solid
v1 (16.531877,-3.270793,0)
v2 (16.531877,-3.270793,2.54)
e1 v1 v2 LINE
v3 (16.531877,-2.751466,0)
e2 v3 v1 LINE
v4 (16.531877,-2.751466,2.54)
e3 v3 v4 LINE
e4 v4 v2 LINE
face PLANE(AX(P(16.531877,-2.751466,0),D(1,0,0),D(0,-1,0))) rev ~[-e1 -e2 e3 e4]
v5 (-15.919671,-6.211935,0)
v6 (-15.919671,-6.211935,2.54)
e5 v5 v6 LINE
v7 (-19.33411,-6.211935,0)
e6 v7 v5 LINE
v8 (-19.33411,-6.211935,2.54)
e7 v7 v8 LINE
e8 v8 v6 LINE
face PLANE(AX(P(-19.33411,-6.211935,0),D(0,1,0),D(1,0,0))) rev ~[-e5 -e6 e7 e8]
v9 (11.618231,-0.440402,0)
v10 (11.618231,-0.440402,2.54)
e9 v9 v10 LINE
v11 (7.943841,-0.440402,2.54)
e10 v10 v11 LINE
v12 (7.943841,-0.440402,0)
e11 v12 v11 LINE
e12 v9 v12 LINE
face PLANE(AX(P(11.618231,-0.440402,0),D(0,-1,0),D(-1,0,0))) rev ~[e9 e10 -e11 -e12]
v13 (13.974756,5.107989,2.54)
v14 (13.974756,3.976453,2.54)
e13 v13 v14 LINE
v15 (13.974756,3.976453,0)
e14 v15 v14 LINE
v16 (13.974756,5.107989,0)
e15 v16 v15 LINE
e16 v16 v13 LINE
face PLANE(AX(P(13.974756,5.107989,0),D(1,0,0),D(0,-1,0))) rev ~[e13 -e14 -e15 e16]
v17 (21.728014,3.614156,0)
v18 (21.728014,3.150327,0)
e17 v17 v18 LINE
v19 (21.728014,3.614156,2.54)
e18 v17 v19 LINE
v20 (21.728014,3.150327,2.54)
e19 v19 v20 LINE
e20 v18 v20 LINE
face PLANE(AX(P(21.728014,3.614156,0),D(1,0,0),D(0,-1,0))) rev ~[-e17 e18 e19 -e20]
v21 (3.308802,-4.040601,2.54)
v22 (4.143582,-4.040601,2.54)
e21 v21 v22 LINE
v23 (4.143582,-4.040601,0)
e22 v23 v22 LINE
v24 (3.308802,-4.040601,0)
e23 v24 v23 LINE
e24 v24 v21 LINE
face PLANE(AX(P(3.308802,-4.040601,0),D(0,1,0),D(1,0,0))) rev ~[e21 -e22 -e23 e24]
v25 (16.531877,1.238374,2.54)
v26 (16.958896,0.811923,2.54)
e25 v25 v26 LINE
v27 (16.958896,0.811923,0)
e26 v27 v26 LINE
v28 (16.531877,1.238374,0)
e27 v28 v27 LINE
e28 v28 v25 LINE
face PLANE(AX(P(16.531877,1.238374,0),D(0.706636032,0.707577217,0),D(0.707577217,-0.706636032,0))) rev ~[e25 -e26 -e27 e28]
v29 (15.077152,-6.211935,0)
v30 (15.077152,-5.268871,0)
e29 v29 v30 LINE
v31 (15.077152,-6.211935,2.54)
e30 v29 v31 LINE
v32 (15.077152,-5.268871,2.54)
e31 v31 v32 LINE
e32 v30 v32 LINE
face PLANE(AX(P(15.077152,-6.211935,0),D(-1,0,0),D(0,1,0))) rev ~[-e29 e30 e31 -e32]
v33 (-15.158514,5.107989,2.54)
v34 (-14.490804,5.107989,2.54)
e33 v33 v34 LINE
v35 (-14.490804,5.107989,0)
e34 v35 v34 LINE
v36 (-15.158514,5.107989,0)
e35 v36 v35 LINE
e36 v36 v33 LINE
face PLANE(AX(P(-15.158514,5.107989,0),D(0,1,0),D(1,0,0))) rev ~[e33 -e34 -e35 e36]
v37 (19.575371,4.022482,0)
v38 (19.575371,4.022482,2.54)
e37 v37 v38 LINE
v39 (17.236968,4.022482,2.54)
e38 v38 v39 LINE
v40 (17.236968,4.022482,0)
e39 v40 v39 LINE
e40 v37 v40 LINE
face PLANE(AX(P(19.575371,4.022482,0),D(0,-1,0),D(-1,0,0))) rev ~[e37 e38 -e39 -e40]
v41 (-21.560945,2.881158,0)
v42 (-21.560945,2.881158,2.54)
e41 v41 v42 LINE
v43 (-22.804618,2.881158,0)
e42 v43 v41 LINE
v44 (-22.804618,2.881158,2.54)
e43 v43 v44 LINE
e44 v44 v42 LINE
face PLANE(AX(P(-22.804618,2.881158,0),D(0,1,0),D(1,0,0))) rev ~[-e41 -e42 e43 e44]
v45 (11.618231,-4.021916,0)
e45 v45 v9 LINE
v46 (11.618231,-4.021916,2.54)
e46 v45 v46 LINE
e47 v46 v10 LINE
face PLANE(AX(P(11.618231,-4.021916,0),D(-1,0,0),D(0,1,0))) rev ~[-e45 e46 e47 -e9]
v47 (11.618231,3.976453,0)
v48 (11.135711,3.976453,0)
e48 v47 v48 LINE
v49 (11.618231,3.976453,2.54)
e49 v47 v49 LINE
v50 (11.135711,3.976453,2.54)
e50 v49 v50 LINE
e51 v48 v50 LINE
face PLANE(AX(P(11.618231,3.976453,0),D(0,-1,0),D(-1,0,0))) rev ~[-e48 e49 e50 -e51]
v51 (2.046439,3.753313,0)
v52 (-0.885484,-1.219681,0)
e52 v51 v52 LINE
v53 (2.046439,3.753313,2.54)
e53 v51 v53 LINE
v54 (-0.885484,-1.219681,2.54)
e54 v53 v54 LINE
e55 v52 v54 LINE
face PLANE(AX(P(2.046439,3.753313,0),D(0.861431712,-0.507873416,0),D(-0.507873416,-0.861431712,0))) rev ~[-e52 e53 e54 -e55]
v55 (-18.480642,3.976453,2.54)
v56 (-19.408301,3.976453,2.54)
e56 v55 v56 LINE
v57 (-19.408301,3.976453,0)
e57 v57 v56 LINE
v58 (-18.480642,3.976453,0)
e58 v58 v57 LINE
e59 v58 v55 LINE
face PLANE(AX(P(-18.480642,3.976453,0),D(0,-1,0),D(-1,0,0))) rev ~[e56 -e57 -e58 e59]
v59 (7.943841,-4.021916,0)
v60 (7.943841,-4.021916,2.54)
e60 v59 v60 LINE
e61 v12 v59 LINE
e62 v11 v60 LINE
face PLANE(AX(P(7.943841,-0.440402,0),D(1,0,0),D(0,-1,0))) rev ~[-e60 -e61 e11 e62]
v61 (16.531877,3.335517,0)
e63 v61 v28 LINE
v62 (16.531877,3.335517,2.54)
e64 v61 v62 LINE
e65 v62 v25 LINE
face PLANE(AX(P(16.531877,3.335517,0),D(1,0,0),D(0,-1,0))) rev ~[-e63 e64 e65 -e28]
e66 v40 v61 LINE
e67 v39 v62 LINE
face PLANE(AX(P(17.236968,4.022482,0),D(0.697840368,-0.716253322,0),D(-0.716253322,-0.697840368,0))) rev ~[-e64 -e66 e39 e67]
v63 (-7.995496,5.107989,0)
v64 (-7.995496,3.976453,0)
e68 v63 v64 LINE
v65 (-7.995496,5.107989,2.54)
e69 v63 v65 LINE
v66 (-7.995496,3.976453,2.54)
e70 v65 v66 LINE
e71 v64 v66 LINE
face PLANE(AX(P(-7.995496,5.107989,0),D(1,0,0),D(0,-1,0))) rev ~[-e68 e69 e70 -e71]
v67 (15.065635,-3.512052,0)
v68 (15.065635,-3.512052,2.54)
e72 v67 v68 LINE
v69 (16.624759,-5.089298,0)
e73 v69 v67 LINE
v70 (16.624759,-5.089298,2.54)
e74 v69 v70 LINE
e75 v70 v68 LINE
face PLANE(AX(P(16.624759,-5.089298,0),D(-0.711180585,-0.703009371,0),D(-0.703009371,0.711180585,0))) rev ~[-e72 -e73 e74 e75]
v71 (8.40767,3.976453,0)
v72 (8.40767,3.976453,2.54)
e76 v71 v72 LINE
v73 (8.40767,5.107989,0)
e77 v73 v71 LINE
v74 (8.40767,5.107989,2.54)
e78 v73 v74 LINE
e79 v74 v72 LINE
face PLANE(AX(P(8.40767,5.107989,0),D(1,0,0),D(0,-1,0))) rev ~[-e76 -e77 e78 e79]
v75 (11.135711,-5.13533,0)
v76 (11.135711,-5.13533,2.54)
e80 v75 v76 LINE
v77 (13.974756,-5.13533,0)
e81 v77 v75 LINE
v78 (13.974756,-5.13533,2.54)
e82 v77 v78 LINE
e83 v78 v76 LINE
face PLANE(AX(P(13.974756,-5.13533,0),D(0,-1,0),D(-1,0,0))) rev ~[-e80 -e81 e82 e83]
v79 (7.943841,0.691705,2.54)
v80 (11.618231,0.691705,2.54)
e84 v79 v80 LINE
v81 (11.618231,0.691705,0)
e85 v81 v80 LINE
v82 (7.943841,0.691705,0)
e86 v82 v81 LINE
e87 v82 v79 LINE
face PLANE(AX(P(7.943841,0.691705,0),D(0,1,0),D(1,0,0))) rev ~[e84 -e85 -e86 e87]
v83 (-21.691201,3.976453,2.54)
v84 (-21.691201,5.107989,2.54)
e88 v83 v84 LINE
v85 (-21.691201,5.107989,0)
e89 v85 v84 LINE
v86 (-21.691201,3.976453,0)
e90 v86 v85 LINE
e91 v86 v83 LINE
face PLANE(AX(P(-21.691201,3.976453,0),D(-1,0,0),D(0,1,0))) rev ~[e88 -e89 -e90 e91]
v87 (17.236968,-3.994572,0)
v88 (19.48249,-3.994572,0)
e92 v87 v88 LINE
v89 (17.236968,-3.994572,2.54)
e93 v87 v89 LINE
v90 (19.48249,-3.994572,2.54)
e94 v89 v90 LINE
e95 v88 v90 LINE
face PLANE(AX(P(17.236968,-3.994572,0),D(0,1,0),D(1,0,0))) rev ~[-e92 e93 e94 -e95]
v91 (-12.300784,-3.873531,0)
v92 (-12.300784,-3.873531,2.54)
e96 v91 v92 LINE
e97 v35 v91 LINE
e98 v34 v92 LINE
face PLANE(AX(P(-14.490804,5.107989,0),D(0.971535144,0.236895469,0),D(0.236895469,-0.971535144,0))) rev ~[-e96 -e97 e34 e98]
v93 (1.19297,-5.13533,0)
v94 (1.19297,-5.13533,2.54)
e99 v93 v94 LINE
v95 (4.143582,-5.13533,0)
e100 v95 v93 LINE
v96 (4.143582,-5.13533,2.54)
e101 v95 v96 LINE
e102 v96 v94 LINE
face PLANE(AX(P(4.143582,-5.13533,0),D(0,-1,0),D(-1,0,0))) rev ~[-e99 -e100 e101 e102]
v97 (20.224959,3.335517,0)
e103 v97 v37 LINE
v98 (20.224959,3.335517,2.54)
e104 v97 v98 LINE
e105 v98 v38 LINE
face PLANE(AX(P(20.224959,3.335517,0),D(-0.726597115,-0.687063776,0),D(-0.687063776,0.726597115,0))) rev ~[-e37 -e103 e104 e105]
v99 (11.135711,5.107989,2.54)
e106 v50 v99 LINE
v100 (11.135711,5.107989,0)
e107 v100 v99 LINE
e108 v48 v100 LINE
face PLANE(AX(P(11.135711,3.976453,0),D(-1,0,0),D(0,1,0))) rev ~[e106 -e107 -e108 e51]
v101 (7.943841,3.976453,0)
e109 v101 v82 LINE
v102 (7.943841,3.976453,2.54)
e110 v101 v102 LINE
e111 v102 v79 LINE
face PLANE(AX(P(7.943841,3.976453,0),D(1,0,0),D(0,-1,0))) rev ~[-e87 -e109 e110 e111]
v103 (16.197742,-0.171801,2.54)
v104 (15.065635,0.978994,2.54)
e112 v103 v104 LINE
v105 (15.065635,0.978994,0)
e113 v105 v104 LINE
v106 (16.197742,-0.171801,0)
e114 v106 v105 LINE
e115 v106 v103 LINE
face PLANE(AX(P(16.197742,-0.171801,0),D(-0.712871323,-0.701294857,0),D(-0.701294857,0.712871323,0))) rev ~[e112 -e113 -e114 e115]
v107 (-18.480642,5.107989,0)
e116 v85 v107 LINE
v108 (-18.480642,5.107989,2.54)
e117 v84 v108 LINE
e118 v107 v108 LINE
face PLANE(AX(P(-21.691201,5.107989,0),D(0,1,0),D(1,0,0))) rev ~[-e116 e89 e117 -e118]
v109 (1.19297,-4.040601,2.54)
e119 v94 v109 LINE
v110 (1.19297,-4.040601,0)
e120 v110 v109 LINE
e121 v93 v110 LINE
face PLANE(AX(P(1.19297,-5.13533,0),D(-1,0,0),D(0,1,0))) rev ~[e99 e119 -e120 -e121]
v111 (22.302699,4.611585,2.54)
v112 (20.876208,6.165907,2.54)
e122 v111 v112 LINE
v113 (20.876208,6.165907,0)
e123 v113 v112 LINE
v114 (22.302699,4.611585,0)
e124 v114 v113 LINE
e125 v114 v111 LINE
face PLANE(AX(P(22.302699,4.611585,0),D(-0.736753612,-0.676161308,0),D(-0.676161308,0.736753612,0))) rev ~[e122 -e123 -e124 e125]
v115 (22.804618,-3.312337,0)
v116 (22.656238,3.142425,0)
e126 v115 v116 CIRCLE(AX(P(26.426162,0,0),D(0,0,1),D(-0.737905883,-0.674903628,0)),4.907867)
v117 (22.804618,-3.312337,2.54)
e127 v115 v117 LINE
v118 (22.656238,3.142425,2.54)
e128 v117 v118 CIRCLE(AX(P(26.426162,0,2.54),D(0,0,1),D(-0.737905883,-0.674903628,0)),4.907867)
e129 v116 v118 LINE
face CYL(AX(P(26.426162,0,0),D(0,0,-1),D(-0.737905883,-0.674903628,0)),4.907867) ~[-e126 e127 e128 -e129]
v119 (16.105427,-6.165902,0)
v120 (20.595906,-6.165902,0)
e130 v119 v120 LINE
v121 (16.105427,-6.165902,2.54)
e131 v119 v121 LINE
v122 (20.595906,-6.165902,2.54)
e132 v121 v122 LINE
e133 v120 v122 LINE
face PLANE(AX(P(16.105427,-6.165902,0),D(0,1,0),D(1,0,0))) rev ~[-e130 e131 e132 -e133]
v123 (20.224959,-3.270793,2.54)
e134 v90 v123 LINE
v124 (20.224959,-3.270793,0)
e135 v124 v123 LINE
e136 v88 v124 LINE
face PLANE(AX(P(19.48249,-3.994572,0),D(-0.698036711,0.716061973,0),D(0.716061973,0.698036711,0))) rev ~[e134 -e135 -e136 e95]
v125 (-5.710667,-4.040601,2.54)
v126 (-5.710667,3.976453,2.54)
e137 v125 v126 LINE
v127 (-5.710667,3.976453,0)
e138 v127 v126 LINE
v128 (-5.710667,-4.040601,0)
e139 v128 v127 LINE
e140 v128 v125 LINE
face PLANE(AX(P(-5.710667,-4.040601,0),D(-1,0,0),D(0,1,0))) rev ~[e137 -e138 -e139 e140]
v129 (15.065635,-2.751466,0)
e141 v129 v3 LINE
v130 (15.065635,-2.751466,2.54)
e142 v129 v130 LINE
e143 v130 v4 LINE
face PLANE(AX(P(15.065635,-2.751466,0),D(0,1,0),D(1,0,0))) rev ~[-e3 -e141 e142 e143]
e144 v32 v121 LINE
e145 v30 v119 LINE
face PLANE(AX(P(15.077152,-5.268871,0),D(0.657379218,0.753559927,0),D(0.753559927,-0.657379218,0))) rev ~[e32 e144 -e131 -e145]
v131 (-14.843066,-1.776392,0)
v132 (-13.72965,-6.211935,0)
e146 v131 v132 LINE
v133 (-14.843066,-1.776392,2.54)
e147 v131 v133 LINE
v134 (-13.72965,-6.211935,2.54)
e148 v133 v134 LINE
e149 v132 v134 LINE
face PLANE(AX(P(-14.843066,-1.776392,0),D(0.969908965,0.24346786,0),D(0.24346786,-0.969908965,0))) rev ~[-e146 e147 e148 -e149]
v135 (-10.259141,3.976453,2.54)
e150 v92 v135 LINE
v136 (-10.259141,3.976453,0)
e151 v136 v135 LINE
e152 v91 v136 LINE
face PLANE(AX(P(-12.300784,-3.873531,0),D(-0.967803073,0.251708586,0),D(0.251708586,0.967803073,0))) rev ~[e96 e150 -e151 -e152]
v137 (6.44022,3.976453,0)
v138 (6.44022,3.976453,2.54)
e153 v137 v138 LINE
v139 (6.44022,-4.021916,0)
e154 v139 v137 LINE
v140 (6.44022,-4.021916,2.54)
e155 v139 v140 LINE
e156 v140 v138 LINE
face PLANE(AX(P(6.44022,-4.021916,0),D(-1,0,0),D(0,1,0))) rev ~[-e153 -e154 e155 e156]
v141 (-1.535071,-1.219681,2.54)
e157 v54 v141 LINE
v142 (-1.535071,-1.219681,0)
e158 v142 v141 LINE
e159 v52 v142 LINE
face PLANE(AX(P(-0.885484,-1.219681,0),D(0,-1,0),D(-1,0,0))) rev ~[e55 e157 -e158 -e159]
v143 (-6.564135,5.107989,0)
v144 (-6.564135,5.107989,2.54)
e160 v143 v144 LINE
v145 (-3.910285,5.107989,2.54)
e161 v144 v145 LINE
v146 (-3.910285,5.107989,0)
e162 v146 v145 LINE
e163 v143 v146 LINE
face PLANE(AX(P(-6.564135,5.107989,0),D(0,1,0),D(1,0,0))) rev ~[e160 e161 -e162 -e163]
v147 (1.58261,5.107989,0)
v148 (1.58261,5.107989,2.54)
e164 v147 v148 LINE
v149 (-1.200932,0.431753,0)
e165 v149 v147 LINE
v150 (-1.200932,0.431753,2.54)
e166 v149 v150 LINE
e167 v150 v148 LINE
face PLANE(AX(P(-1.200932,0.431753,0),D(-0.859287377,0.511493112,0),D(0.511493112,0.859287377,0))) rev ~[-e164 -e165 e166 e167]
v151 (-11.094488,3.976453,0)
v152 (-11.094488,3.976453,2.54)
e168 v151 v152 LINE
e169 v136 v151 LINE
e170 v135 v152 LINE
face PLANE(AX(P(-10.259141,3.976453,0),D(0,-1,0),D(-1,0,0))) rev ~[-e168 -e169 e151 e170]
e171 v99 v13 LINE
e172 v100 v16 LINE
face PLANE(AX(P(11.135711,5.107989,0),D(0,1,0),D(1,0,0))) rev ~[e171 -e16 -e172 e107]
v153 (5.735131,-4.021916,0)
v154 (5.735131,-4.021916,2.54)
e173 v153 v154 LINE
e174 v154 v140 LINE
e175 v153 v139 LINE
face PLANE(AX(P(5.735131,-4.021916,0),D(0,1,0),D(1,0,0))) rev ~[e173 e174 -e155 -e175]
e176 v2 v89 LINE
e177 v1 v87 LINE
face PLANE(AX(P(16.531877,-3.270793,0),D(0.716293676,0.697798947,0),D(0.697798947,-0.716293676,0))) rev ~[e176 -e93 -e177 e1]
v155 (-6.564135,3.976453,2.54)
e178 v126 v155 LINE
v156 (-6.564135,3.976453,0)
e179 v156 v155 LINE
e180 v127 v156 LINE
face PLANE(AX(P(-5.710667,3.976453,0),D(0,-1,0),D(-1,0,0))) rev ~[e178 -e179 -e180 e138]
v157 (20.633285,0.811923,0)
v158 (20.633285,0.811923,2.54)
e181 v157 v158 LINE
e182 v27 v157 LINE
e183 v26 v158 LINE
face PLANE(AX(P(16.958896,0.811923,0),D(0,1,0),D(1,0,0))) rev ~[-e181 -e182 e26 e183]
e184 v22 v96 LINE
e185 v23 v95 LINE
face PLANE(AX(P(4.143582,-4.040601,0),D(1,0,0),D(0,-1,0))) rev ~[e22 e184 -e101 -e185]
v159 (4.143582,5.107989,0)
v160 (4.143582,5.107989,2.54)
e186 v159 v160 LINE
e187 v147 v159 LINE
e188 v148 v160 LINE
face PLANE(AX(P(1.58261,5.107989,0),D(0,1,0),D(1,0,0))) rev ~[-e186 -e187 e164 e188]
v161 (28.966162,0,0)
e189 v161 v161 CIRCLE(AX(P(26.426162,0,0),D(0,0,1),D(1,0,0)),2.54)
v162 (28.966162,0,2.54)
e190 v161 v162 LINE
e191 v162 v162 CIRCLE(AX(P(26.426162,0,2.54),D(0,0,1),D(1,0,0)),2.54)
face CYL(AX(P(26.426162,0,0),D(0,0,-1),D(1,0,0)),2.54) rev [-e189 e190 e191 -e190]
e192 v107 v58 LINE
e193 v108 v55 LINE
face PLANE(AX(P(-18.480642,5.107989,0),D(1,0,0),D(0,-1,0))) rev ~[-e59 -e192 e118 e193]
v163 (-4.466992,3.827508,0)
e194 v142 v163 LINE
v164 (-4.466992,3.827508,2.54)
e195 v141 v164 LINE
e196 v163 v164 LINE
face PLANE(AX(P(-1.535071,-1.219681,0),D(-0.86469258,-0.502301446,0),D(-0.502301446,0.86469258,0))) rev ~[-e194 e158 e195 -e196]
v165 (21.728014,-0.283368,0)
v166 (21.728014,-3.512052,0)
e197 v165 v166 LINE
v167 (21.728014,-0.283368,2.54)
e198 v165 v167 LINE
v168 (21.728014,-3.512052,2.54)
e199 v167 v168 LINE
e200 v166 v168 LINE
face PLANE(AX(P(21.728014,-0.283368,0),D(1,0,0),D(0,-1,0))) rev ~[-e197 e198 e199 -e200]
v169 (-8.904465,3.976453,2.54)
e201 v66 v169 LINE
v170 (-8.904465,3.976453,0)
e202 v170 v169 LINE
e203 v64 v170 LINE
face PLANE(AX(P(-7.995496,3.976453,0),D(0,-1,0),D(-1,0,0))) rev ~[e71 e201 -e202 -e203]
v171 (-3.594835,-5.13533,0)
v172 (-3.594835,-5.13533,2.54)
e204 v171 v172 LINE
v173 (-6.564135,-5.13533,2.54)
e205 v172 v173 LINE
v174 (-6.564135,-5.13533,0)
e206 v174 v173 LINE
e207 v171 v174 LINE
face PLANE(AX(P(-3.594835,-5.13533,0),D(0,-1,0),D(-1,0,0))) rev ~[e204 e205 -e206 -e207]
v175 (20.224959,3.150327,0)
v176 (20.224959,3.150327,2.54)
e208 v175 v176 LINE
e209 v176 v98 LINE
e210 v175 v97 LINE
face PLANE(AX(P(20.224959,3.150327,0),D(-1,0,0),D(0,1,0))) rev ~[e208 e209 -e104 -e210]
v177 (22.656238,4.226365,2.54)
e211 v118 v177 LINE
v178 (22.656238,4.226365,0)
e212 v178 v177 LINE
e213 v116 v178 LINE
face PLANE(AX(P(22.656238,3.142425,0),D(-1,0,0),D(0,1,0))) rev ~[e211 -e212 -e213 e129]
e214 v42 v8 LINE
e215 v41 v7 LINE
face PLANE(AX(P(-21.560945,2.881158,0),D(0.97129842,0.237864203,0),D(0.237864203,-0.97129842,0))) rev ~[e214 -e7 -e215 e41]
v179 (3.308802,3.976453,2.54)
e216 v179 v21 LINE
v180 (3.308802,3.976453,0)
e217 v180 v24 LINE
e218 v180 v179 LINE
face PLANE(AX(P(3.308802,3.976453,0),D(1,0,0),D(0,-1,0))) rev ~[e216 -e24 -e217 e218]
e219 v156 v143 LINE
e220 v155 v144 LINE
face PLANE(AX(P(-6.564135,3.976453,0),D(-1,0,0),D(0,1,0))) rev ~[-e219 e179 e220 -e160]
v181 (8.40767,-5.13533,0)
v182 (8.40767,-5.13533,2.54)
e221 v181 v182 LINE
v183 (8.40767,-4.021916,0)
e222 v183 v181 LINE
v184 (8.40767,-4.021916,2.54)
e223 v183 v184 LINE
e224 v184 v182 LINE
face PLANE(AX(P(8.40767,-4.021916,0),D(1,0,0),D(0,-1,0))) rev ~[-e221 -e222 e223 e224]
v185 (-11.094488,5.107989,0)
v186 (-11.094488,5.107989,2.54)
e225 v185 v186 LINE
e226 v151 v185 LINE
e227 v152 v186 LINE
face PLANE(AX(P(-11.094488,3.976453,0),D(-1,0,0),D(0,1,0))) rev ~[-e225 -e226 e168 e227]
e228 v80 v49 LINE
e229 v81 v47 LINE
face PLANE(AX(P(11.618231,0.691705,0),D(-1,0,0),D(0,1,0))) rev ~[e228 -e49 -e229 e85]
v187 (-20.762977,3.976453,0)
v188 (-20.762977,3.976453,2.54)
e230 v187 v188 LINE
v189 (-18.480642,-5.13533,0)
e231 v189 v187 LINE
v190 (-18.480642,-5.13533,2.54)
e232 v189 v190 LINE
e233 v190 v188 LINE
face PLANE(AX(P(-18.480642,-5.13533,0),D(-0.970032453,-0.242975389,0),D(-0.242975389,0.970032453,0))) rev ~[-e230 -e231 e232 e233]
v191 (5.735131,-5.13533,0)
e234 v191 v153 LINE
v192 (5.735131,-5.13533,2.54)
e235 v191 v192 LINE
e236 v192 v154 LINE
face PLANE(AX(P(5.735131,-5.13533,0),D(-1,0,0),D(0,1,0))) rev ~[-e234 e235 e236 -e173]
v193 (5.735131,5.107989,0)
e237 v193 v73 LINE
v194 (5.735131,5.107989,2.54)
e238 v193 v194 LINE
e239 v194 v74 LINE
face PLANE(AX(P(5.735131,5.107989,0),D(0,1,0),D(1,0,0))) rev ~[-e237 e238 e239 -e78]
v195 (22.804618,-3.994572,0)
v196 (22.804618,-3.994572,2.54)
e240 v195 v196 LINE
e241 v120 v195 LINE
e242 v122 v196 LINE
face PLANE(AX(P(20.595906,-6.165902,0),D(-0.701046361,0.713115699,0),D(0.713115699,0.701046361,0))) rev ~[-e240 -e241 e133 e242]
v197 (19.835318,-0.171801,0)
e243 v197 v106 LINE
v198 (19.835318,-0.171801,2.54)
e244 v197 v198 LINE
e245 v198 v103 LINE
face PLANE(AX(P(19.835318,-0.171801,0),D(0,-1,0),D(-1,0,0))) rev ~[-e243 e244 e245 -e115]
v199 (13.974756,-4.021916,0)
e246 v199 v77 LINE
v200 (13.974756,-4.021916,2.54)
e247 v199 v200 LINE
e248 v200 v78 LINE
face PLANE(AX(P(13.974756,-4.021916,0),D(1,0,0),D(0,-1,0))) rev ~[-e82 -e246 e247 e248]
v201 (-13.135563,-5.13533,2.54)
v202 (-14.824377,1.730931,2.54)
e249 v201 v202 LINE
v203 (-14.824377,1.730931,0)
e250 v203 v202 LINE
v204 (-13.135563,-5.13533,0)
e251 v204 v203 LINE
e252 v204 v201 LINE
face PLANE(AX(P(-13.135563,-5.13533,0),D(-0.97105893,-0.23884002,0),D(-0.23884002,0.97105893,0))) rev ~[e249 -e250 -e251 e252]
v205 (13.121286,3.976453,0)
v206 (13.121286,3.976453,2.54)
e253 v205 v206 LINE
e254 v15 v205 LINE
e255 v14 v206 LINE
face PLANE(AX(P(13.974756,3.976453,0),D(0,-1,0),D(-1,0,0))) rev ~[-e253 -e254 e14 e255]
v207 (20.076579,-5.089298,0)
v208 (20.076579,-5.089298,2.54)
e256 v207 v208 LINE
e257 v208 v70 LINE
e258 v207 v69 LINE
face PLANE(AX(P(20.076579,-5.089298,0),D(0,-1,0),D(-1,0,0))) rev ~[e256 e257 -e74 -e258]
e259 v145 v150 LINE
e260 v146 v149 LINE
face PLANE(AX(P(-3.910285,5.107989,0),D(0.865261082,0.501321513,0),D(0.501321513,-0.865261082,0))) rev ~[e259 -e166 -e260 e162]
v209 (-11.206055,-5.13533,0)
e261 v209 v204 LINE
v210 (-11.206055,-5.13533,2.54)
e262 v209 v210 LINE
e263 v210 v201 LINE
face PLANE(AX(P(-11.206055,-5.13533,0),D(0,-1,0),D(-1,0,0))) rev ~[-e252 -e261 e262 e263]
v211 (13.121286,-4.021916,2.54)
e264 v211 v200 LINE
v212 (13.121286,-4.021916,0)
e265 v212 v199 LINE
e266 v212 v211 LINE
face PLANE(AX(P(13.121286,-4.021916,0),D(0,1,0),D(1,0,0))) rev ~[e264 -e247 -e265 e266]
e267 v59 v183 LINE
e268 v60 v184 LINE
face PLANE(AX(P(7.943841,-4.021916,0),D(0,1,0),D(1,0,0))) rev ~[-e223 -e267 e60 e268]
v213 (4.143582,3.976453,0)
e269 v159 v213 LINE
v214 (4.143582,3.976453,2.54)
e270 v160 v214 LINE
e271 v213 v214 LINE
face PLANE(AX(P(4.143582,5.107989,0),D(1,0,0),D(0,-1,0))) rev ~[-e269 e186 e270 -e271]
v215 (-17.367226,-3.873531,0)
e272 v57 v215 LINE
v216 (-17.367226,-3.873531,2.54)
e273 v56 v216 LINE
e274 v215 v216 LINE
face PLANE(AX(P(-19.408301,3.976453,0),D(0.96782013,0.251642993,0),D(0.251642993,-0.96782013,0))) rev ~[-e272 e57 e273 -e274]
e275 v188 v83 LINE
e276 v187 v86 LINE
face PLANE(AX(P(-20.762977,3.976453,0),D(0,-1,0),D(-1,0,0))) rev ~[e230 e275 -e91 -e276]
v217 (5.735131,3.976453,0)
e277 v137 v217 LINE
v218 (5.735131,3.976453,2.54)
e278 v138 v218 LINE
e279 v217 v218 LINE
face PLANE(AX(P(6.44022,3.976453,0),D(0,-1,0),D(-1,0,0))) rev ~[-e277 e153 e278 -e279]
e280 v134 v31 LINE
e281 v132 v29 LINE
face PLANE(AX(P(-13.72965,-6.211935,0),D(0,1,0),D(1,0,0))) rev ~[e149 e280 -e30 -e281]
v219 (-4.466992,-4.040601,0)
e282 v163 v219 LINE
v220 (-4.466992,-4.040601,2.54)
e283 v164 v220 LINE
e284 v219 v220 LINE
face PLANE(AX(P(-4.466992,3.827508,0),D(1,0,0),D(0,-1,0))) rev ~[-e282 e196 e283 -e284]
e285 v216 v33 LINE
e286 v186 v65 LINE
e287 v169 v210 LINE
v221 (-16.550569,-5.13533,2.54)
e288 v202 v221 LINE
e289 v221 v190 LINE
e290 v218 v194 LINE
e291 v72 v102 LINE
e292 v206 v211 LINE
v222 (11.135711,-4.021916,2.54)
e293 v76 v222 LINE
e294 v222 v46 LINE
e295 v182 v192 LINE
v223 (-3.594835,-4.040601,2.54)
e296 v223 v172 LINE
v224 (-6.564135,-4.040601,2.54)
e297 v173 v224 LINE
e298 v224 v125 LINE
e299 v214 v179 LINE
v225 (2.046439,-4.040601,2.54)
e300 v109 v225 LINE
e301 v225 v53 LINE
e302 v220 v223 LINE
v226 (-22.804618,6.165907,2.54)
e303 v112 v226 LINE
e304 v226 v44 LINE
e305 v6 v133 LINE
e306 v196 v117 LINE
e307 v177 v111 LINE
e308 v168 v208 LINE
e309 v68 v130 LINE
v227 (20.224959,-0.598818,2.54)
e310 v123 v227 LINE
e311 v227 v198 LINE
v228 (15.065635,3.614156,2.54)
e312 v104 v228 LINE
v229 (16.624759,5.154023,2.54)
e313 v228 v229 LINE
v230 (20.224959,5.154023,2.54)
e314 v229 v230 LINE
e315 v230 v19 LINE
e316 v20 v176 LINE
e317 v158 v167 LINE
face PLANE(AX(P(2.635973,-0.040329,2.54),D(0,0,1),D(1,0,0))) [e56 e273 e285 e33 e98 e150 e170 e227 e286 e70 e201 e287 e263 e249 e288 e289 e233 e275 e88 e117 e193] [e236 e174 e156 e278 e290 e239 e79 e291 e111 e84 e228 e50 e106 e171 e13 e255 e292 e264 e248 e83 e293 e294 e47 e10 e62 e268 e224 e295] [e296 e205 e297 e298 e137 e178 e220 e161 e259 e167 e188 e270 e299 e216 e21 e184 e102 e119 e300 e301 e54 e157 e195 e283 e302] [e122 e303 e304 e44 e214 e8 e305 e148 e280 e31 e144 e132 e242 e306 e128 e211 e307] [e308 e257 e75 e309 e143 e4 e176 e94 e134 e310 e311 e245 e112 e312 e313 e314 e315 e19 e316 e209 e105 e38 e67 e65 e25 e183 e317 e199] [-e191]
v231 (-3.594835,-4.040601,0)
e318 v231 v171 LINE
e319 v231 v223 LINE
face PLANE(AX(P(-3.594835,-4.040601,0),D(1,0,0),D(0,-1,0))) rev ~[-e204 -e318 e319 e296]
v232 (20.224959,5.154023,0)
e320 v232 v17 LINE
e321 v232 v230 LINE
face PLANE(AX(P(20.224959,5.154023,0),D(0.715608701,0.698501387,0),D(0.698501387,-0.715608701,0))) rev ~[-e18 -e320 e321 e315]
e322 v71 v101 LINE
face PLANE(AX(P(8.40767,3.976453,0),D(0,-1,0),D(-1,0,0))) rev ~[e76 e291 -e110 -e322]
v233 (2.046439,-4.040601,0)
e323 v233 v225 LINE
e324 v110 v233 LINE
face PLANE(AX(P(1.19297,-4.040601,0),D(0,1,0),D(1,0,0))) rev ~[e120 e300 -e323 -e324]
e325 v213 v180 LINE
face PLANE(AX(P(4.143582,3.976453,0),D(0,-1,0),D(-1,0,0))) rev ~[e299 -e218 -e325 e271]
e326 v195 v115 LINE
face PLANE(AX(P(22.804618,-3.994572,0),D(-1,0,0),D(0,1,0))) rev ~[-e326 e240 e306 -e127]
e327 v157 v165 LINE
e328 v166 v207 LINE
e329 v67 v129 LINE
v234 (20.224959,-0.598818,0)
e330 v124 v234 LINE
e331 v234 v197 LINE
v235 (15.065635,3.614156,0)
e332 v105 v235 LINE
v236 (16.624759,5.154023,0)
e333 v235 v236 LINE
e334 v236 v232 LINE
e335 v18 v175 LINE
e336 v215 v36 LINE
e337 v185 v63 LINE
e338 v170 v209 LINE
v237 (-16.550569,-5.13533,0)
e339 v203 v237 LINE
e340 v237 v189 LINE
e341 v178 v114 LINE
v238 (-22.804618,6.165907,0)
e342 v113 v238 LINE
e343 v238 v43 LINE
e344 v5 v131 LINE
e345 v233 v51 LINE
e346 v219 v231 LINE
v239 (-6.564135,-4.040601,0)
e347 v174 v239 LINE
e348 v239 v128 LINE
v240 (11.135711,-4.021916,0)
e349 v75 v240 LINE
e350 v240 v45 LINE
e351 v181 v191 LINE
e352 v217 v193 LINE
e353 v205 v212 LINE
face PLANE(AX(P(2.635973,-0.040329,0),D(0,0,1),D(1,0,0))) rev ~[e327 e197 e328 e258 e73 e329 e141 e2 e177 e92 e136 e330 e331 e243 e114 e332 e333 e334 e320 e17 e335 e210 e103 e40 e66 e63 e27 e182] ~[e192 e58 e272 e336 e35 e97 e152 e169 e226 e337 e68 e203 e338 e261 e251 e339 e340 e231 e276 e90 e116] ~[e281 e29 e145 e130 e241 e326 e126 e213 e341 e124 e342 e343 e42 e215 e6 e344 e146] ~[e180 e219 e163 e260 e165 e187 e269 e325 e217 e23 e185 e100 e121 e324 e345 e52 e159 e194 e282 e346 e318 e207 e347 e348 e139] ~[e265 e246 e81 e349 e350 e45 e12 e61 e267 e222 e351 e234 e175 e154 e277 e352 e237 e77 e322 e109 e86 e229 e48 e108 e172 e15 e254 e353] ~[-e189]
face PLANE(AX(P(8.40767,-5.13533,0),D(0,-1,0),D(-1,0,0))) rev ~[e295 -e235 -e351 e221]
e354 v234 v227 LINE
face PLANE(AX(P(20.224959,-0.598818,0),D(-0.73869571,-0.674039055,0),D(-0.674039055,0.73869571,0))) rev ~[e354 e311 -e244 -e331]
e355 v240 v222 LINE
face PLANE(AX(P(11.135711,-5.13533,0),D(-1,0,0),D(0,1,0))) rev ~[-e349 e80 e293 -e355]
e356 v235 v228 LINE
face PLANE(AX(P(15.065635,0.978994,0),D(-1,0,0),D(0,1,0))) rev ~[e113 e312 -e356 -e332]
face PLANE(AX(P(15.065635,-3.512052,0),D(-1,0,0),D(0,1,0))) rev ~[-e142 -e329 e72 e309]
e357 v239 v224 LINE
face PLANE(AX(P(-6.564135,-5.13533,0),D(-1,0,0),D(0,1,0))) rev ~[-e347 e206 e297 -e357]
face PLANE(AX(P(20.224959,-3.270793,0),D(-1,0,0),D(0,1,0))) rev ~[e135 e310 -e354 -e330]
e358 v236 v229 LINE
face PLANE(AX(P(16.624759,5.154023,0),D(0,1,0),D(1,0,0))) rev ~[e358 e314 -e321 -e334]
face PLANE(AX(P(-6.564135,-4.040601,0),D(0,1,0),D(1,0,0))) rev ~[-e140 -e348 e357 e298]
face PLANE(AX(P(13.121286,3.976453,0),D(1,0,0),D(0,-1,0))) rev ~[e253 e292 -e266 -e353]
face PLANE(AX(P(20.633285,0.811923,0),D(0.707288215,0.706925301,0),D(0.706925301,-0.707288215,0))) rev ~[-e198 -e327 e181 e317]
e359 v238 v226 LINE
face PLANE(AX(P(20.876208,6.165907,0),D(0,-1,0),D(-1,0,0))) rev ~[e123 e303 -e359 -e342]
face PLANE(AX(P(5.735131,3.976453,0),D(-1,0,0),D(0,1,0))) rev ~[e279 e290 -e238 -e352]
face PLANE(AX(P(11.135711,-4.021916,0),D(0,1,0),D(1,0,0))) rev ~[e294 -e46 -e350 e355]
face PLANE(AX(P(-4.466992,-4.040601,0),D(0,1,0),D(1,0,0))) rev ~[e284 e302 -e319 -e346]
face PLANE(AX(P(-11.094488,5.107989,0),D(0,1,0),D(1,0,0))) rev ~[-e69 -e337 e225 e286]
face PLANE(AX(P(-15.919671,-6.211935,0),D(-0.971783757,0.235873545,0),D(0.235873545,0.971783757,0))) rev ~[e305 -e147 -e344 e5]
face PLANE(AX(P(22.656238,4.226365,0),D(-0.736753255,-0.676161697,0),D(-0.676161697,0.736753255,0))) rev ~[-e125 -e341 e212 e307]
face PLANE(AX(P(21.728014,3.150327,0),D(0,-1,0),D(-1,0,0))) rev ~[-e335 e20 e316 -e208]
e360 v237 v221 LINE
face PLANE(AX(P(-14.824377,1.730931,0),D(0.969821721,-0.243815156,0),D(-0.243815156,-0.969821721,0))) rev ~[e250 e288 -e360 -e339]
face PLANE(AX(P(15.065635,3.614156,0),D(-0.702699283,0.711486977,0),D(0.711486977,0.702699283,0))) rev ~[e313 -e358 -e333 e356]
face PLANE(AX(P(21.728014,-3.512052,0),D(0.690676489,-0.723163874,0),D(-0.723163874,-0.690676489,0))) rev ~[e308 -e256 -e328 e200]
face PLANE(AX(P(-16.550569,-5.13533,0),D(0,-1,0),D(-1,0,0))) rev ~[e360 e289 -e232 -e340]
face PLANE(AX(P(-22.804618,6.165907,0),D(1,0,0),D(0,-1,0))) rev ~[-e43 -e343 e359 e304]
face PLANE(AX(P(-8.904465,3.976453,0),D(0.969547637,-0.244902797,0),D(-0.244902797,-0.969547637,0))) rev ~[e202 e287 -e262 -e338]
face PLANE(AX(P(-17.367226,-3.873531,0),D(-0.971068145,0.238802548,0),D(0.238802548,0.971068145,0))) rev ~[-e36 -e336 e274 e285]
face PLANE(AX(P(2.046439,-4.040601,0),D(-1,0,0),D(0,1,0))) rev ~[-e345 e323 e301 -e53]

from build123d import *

# Parameters (mm, degrees)
F0_R     = 2.54
F1_DEPTH = 2.54


with BuildPart() as f1:
    # F0 (on Top) → F1 (new body)
    with BuildSketch(Plane.XY):
        with BuildLine():
            Line((-13.72965, -6.211935), (-10.352021, -6.211935))
            Line((-10.352021, -6.211935), (-7.658862, -6.211935))
            Line((-7.658862, -6.211935), (-2.500108, -6.211935))
            Line((-2.500108, -6.211935), (0.098243, -6.211935))
            Line((0.098243, -6.211935), (4.492023, -6.211935))
            Line((4.492023, -6.211935), (5.238309, -6.211935))
            Line((5.238309, -6.211935), (9.521089, -6.211935))
            Line((9.521089, -6.211935), (10.040419, -6.211935))
            Line((10.040419, -6.211935), (15.077152, -6.211935))
            Line((15.077152, -6.211935), (15.077152, -5.268871))
            Line((15.077152, -5.268871), (16.105427, -6.165902))
            Line((16.105427, -6.165902), (20.595906, -6.165902))
            Line((20.595906, -6.165902), (22.804618, -3.994572))
            Line((22.804618, -3.994572), (22.804618, -3.312337))
            ThreePointArc((22.804618, -3.312337), (31.332733, 0.11279), (22.656238, 3.142425))
            Line((22.656238, 3.142425), (22.656238, 4.226365))
            Line((22.656238, 4.226365), (22.302699, 4.611585))
            Line((22.302699, 4.611585), (20.876208, 6.165907))
            Line((20.876208, 6.165907), (15.069485, 6.165907))
            Line((15.069485, 6.165907), (10.040419, 6.165907))
            Line((10.040419, 6.165907), (9.521089, 6.165907))
            Line((9.521089, 6.165907), (5.238309, 6.165907))
            Line((5.238309, 6.165907), (4.492023, 6.165907))
            Line((4.492023, 6.165907), (1.025901, 6.165907))
            Line((1.025901, 6.165907), (-3.409077, 6.165907))
            Line((-3.409077, 6.165907), (-6.900202, 6.165907))
            Line((-6.900202, 6.165907), (-7.658862, 6.165907))
            Line((-7.658862, 6.165907), (-12.207904, 6.165907))
            Line((-12.207904, 6.165907), (-13.72965, 6.165907))
            Line((-13.72965, 6.165907), (-15.919671, 6.165907))
            Line((-15.919671, 6.165907), (-17.367226, 6.165907))
            Line((-17.367226, 6.165907), (-22.804618, 6.165907))
            Line((-22.804618, 6.165907), (-22.804618, 2.881158))
            Line((-22.804618, 2.881158), (-21.560945, 2.881158))
            Line((-21.560945, 2.881158), (-19.33411, -6.211935))
            Line((-19.33411, -6.211935), (-15.919671, -6.211935))
            Line((-15.919671, -6.211935), (-14.843066, -1.776392))
            Line((-14.843066, -1.776392), (-13.72965, -6.211935))
        make_face()
        Polygon((-11.094488, 5.107989), (-7.995496, 5.107989), (-7.995496, 3.976453), (-8.904465, 3.976453), (-11.206055, -5.13533), (-13.135563, -5.13533), (-14.824377, 1.730931), (-16.550569, -5.13533), (-18.480642, -5.13533), (-20.762977, 3.976453), (-21.691201, 3.976453), (-21.691201, 5.107989), (-18.480642, 5.107989), (-18.480642, 3.976453), (-19.408301, 3.976453), (-17.367226, -3.873531), (-15.158514, 5.107989), (-14.490804, 5.107989), (-12.300784, -3.873531), (-10.259141, 3.976453), (-11.094488, 3.976453), align=None, mode=Mode.SUBTRACT)
        Polygon((1.58261, 5.107989), (4.143582, 5.107989), (4.143582, 3.976453), (3.308802, 3.976453), (3.308802, -4.040601), (4.143582, -4.040601), (4.143582, -5.13533), (1.19297, -5.13533), (1.19297, -4.040601), (2.046439, -4.040601), (2.046439, 3.753313), (-0.885484, -1.219681), (-1.535071, -1.219681), (-4.466992, 3.827508), (-4.466992, -4.040601), (-3.594835, -4.040601), (-3.594835, -5.13533), (-6.564135, -5.13533), (-6.564135, -4.040601), (-5.710667, -4.040601), (-5.710667, 3.976453), (-6.564135, 3.976453), (-6.564135, 5.107989), (-3.910285, 5.107989), (-1.200932, 0.431753), align=None, mode=Mode.SUBTRACT)
        Polygon((11.135711, 5.107989), (13.974756, 5.107989), (13.974756, 3.976453), (13.121286, 3.976453), (13.121286, -4.021916), (13.974756, -4.021916), (13.974756, -5.13533), (11.135711, -5.13533), (11.135711, -4.021916), (11.618231, -4.021916), (11.618231, -0.440402), (7.943841, -0.440402), (7.943841, -4.021916), (8.40767, -4.021916), (8.40767, -5.13533), (5.735131, -5.13533), (5.735131, -4.021916), (6.44022, -4.021916), (6.44022, 3.976453), (5.735131, 3.976453), (5.735131, 5.107989), (8.40767, 5.107989), (8.40767, 3.976453), (7.943841, 3.976453), (7.943841, 0.691705), (11.618231, 0.691705), (11.618231, 3.976453), (11.135711, 3.976453), align=None, mode=Mode.SUBTRACT)
        Polygon((20.633285, 0.811923), (21.728014, -0.283368), (21.728014, -3.512052), (20.076579, -5.089298), (16.624759, -5.089298), (15.065635, -3.512052), (15.065635, -2.751466), (16.531877, -2.751466), (16.531877, -3.270793), (17.236968, -3.994572), (19.48249, -3.994572), (20.224959, -3.270793), (20.224959, -0.598818), (19.835318, -0.171801), (16.197742, -0.171801), (15.065635, 0.978994), (15.065635, 3.614156), (16.624759, 5.154023), (20.224959, 5.154023), (21.728014, 3.614156), (21.728014, 3.150327), (20.224959, 3.150327), (20.224959, 3.335517), (19.575371, 4.022482), (17.236968, 4.022482), (16.531877, 3.335517), (16.531877, 1.238374), (16.958896, 0.811923), align=None, mode=Mode.SUBTRACT)
        with Locations((26.426162, 0)):
            Circle(F0_R, mode=Mode.SUBTRACT)
    extrude(amount=F1_DEPTH)


solid = f1.part
